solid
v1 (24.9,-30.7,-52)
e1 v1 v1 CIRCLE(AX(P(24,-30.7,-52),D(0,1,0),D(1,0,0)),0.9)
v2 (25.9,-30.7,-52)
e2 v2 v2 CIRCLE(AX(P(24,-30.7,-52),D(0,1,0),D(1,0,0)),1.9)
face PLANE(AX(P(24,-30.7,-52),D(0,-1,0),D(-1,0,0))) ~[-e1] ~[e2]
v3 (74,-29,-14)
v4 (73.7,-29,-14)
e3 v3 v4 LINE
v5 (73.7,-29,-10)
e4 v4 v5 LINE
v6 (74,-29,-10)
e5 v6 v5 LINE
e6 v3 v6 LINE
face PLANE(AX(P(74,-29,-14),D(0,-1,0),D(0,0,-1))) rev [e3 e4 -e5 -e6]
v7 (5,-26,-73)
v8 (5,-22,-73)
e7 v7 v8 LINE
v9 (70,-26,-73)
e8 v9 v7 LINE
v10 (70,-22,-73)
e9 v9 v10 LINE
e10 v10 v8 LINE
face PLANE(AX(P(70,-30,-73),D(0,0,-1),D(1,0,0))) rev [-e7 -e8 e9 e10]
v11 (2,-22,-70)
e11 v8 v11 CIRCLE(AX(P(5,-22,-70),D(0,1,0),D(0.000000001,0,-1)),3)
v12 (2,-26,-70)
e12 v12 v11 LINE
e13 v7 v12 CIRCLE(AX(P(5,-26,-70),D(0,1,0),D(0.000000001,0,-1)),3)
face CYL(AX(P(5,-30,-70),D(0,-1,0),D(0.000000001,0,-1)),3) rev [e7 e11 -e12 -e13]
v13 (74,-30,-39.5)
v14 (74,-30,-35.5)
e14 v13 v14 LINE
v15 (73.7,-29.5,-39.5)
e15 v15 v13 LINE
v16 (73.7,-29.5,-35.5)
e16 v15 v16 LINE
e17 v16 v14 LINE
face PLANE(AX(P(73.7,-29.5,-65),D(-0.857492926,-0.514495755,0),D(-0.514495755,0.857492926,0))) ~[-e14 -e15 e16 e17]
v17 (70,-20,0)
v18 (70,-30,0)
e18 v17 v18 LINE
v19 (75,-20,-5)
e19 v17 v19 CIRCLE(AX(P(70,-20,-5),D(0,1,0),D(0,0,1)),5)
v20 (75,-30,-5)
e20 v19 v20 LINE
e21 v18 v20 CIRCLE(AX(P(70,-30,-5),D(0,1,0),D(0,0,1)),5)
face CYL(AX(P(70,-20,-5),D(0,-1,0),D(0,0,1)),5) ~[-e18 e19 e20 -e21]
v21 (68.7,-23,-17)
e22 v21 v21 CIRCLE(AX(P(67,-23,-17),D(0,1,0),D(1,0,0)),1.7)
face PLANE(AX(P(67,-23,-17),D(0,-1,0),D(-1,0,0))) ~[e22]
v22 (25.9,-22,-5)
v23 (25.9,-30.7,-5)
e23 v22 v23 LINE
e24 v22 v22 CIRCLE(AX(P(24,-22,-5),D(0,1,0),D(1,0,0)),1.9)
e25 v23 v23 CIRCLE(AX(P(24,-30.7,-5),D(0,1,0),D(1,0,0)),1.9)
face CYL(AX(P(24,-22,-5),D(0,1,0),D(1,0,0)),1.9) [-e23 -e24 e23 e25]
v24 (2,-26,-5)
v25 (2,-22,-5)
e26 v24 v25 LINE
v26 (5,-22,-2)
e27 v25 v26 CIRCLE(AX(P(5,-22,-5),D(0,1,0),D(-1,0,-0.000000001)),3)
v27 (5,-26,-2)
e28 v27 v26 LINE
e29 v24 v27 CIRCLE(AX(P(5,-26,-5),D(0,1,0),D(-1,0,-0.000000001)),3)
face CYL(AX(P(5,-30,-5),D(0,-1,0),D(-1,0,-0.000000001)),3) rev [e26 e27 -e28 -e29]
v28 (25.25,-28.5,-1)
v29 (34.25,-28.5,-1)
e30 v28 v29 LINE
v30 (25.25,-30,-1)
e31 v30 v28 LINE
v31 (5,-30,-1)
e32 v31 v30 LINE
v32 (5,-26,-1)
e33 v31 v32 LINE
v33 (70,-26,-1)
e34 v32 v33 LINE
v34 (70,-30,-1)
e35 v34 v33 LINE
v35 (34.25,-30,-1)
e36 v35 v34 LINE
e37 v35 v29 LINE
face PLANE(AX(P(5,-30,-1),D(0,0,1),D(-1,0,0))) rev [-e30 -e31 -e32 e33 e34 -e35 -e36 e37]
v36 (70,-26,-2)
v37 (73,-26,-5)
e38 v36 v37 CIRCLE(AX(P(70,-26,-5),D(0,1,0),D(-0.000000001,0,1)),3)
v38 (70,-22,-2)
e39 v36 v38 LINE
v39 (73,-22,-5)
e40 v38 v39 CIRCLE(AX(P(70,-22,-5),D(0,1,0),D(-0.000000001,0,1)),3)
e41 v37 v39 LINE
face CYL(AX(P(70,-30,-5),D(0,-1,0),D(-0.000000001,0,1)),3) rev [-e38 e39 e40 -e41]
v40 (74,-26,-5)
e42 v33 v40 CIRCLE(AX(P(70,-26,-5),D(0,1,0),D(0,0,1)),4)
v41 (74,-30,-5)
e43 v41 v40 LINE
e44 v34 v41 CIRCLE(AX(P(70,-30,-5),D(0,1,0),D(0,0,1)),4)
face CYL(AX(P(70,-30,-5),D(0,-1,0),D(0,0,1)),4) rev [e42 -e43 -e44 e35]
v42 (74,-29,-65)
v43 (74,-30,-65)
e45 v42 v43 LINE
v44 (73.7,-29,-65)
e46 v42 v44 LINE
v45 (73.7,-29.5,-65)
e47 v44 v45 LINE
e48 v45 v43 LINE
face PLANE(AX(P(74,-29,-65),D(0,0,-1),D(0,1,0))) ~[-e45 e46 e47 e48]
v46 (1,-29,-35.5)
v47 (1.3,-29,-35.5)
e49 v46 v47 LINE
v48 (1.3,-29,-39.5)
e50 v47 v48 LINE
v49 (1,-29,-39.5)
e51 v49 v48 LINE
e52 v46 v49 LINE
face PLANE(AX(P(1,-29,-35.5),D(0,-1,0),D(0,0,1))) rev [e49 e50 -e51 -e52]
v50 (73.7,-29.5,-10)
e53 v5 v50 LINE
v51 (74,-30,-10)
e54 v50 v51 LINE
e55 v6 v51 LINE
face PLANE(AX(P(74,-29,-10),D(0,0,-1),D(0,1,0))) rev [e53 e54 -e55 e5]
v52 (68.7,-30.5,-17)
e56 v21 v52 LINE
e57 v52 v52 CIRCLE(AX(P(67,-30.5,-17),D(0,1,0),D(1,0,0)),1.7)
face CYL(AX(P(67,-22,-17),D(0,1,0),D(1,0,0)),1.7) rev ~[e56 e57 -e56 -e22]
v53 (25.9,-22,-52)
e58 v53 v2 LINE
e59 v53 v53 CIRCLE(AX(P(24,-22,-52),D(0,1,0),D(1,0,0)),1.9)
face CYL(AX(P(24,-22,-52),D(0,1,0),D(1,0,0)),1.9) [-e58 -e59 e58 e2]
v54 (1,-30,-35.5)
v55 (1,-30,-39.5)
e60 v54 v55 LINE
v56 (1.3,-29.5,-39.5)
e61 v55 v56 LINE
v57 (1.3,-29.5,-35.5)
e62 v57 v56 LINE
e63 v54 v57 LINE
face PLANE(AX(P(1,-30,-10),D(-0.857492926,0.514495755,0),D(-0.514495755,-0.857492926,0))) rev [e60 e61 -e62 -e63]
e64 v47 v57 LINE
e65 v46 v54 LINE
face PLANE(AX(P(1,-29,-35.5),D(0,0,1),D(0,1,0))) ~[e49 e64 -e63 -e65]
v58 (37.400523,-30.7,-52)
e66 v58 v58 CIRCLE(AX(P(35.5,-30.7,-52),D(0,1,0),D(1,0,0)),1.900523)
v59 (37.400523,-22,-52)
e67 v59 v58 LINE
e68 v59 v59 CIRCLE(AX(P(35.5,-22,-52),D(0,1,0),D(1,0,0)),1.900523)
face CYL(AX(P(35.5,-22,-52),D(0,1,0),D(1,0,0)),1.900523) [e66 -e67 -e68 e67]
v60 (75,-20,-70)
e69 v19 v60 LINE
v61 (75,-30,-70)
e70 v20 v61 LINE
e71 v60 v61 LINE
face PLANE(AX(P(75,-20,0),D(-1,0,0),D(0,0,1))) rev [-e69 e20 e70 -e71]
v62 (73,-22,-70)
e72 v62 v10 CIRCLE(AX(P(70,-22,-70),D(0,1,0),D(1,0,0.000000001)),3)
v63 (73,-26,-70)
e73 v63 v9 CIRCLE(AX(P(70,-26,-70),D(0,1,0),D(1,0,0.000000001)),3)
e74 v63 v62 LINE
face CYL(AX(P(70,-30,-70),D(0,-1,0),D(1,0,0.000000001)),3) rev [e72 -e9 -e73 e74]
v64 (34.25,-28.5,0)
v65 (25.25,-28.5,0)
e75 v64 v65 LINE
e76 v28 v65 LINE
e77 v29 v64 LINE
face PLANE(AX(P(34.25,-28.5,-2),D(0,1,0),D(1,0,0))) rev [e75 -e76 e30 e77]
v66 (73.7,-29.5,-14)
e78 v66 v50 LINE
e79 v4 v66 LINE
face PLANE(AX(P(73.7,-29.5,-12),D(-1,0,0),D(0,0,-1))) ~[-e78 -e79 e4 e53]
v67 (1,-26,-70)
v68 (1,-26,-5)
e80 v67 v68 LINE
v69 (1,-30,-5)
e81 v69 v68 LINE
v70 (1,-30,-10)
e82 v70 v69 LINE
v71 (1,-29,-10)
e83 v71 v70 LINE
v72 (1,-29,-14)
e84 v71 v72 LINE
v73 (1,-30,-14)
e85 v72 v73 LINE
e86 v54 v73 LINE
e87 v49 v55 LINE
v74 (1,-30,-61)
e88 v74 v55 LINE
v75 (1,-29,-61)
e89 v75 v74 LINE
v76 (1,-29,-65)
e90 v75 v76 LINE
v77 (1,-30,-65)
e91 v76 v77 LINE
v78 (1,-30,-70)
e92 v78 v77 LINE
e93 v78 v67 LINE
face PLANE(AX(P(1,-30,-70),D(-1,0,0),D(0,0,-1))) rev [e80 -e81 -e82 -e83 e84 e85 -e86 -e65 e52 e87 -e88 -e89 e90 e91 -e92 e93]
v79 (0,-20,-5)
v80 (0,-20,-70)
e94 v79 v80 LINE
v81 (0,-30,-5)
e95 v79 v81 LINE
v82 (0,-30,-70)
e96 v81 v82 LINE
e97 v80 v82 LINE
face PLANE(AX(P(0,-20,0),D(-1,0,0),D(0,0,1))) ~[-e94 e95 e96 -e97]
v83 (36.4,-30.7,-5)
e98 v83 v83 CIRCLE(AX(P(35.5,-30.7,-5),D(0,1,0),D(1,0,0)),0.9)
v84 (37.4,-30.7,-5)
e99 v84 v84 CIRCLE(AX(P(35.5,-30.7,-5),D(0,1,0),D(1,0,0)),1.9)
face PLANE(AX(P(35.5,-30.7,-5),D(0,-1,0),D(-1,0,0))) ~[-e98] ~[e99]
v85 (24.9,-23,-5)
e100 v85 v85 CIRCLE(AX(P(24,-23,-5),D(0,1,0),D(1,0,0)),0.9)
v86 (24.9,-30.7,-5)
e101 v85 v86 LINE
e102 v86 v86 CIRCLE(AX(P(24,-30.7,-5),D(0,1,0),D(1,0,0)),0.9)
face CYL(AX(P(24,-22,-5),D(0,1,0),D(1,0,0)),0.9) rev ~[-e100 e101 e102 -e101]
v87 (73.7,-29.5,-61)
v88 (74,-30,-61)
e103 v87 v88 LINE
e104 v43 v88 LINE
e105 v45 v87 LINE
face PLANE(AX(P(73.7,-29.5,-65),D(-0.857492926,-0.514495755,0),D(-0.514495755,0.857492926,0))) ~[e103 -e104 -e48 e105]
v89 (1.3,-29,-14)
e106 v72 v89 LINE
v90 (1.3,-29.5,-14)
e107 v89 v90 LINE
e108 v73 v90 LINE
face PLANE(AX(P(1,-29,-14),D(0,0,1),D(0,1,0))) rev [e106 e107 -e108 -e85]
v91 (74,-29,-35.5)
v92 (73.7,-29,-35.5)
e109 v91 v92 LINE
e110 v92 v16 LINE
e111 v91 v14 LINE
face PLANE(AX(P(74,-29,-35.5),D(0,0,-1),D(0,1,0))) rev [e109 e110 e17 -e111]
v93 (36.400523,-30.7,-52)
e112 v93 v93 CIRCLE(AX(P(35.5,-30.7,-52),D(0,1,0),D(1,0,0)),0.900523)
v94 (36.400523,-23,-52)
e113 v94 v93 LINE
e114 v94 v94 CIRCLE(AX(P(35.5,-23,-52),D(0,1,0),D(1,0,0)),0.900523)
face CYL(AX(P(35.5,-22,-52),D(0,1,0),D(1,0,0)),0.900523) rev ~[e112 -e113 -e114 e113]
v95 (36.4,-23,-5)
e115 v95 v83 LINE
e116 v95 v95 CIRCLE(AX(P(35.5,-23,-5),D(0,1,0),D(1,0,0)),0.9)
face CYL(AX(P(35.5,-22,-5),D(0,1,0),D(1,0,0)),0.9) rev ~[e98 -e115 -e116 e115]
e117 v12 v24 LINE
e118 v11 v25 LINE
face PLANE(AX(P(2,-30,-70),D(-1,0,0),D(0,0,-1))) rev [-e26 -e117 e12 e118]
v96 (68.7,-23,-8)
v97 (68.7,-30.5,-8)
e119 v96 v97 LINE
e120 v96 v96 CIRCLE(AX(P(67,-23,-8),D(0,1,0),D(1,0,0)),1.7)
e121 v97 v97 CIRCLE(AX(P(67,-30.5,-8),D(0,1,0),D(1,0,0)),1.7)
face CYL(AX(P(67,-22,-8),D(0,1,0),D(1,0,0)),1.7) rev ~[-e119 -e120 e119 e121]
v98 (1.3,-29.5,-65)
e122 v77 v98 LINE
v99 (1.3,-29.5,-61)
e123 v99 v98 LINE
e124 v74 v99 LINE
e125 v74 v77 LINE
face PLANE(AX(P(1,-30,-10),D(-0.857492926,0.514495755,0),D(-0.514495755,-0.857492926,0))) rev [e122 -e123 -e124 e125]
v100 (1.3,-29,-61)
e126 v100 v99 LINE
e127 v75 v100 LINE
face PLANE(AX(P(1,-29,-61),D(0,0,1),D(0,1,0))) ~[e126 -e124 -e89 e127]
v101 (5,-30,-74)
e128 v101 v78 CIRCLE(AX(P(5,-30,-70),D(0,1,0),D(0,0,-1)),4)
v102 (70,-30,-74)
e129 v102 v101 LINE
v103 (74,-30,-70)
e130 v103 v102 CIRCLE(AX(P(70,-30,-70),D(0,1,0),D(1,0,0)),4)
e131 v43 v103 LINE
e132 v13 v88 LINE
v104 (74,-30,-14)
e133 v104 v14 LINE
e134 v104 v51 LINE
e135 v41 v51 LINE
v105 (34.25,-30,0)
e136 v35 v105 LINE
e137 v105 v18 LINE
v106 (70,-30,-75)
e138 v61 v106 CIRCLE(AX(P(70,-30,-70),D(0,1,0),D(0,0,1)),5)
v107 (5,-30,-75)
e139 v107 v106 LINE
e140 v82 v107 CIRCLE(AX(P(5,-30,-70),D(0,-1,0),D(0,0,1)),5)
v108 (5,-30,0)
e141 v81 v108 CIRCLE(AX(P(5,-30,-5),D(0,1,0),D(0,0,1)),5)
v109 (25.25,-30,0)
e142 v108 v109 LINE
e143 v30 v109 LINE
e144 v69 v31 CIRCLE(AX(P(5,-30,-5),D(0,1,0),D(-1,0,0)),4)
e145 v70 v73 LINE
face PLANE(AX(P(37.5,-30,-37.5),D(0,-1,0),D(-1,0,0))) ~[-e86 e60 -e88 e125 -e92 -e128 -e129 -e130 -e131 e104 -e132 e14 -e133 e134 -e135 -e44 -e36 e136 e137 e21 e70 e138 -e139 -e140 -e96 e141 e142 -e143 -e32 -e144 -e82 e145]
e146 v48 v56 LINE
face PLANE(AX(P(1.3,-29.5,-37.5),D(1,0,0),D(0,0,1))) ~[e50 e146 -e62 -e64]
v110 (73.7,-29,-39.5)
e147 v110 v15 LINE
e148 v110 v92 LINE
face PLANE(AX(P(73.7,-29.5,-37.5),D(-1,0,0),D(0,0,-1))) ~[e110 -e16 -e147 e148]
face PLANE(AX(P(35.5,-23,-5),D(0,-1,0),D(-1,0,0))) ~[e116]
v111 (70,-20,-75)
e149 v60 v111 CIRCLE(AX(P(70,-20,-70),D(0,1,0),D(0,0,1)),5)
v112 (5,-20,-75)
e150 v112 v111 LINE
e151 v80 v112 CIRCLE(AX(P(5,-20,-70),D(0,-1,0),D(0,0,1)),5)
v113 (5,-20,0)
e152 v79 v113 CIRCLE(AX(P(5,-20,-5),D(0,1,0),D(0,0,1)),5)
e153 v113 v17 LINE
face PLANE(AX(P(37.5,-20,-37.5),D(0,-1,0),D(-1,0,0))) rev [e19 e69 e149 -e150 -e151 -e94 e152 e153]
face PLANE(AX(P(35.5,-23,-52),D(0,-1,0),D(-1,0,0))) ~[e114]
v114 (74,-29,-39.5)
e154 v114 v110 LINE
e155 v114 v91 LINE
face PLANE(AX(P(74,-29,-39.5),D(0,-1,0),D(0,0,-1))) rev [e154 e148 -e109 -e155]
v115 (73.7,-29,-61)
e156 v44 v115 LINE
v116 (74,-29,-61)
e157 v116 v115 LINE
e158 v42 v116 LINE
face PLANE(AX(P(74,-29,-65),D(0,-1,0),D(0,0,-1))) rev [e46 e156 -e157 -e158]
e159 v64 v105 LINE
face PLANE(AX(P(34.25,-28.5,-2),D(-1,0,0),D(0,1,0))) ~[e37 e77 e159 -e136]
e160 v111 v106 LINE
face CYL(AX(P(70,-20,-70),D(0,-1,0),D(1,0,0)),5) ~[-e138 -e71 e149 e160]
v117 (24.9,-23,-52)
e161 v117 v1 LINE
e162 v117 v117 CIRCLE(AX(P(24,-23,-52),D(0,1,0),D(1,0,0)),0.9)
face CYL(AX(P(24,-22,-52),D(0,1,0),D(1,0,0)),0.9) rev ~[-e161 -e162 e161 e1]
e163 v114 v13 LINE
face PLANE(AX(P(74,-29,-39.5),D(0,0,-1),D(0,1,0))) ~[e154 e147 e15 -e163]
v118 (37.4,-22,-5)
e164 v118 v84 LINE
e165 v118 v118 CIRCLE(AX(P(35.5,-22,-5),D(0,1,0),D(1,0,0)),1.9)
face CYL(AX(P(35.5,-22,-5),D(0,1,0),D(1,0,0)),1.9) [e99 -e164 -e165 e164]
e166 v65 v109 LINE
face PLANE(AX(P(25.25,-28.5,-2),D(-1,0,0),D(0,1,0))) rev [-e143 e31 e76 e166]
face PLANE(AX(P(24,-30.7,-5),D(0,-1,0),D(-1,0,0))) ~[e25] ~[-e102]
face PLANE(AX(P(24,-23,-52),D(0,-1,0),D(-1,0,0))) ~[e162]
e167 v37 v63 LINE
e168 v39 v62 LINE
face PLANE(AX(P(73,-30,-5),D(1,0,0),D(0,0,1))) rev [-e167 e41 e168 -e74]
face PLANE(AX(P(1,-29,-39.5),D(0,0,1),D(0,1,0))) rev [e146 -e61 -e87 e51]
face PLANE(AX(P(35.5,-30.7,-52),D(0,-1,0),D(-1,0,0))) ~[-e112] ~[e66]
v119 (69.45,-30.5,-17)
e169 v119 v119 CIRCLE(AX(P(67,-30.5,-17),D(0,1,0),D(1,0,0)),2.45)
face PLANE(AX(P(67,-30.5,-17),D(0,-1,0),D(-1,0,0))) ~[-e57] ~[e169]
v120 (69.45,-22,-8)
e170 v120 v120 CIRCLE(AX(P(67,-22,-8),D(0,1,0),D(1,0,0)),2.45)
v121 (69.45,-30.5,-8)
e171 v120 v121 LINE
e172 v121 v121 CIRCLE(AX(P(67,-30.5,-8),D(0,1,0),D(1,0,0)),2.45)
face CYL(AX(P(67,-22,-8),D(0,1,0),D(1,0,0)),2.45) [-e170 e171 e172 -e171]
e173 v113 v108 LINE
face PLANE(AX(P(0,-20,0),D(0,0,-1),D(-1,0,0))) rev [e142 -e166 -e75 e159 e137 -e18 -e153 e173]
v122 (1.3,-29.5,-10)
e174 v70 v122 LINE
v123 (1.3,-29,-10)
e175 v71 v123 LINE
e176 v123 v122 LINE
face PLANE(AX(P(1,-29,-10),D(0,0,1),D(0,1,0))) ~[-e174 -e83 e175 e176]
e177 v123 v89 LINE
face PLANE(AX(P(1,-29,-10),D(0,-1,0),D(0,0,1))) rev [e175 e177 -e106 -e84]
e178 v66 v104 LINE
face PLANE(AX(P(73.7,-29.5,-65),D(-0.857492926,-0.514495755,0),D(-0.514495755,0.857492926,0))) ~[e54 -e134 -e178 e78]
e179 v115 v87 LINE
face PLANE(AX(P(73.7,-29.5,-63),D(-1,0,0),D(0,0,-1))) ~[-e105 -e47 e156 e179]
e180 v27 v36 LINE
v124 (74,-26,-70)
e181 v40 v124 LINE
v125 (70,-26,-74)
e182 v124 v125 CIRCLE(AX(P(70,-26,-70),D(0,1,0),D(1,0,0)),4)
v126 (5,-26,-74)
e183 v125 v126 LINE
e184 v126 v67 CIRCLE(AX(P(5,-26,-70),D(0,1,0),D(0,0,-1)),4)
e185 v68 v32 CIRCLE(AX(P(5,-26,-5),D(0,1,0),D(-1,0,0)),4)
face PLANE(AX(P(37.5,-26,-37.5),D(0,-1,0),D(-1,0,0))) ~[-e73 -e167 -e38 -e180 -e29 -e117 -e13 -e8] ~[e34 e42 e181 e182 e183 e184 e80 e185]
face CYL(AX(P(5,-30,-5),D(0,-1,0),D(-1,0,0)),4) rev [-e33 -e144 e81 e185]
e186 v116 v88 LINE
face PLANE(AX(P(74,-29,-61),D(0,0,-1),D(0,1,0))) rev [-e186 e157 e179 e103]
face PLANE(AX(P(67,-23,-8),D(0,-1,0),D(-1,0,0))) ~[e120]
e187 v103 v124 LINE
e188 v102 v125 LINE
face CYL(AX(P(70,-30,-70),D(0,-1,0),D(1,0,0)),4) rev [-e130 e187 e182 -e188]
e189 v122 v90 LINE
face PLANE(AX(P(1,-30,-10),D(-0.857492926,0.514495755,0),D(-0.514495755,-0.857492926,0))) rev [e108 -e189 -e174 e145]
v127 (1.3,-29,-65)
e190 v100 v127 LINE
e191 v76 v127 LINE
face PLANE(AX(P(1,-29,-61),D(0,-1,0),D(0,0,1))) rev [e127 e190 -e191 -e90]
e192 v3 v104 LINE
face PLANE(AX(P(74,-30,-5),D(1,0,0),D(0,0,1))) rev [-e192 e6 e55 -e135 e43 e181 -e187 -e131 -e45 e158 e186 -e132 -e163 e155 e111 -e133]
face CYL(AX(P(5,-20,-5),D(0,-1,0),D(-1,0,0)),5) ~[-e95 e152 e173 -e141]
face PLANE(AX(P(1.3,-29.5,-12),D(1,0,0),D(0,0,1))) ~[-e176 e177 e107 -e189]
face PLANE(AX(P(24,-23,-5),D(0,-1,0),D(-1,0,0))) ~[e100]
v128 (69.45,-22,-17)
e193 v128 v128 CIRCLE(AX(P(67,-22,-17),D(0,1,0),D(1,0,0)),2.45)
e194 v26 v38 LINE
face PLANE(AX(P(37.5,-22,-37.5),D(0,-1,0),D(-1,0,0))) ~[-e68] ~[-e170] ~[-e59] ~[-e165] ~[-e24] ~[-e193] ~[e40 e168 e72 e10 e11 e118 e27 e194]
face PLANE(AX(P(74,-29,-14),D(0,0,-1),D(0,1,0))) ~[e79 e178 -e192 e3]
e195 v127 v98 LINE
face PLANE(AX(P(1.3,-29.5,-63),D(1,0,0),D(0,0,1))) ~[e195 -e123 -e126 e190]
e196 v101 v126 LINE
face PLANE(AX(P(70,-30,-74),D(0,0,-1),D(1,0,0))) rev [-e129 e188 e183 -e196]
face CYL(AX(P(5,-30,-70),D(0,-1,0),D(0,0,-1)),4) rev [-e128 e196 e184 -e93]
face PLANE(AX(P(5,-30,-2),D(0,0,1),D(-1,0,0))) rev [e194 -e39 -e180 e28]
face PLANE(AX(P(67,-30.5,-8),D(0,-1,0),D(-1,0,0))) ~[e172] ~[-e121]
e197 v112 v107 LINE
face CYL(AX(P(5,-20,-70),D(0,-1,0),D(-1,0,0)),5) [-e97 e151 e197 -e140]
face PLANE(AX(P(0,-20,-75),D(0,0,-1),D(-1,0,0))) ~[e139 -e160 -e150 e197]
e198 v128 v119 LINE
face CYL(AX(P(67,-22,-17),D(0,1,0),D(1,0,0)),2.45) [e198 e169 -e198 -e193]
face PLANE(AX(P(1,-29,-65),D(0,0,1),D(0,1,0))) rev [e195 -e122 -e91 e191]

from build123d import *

# Parameters (mm, degrees)
SZKIC1_W                    = 75
SZKIC1_H                    = 75
DODANIE_WYCI_GNI_CIE1_DEPTH = 10
ZAOKR_GLENIE1_R             = 5
WYTNIJ_WYCI_GNI_CIE1_DEPTH  = 8
WYTNIJ_WYCI_GNI_CIE2_DEPTH  = 4
SZKIC7_R                    = 1.9
SZKIC7_R_2                  = 0.9
SZKIC7_R_3                  = 1.900523095
SZKIC7_R_4                  = 0.900523095
DODANIE_WYCI_GNI_CIE2_DEPTH = 8.7
SZKIC9_R                    = 0.900523095
SZKIC9_R_2                  = 0.9
DODANIE_WYCI_GNI_CIE3_DEPTH = 1
SZKIC10_R                   = 1.7
DODANIE_WYCI_GNI_CIE4_DEPTH = 1
SZKIC11_R                   = 2.45
SZKIC11_R_2                 = 1.7
DODANIE_WYCI_GNI_CIE5_DEPTH = 8.5
SZKIC19_W                   = 9
SZKIC19_H                   = 1.5
WYTNIJ_WYCI_GNI_CIE15_DEPTH = 10
SZKIC22_W                   = 4
SZKIC22_H                   = 1
DODANIE_WYCI_GNI_CIE6_DEPTH = 0.3
SZKIC24_W                   = 4
SZKIC24_H                   = 1
DODANIE_WYCI_GNI_CIE7_DEPTH = 0.3
WYTNIJ_WYCI_GNI_CIE13_DEPTH = 55
WYTNIJ_WYCI_GNI_CIE14_DEPTH = 55


with BuildPart() as part:
    # Szkic1 → Dodanie-wyciągnięcie1 (new body)
    with BuildSketch(Plane(origin=(0, 0, 0), x_dir=(1, 0, 0), z_dir=(0, 1, 0))):
        with Locations((37.5, 37.5)):
            Rectangle(SZKIC1_W, SZKIC1_H)
    extrude(amount=DODANIE_WYCI_GNI_CIE1_DEPTH)

    # Zaokrąglenie1
    zaokr_glenie1_edges = [part.edges().sort_by_distance(p)[0] for p in [
        (0, 5, 0),
        (0, 5, -75),
        (75, 5, -75),
        (75, 5, 0),
    ]]
    fillet(zaokr_glenie1_edges, radius=ZAOKR_GLENIE1_R)

    # Szkic4 → Wytnij-wyciągnięcie1 (cut)
    with BuildSketch(Plane(origin=(0, 10, 0), x_dir=(1, 0, 0), z_dir=(0, 1, 0))):
        with BuildLine():
            Line((2, 70), (2, 5))
            ThreePointArc((2, 5), (2.878679656, 2.878679656), (5, 2))
            Line((5, 2), (70, 2))
            ThreePointArc((70, 2), (72.121320344, 2.878679656), (73, 5))
            Line((73, 5), (73, 70))
            ThreePointArc((73, 70), (72.121320344, 72.121320344), (70, 73))
            Line((70, 73), (5, 73))
            ThreePointArc((5, 73), (2.878679656, 72.121320344), (2, 70))
        make_face()
    extrude(amount=-WYTNIJ_WYCI_GNI_CIE1_DEPTH, mode=Mode.SUBTRACT)

    # Szkic6 → Wytnij-wyciągnięcie2 (cut)
    with BuildSketch(Plane(origin=(0, 10, 0), x_dir=(1, 0, 0), z_dir=(0, 1, 0))):
        with BuildLine():
            Line((1, 70), (1, 5))
            ThreePointArc((1, 5), (2.171572875, 2.171572875), (5, 1))
            Line((5, 1), (70, 1))
            ThreePointArc((70, 1), (72.828427125, 2.171572875), (74, 5))
            Line((74, 5), (74, 70))
            ThreePointArc((74, 70), (72.828427125, 72.828427125), (70, 74))
            Line((70, 74), (5, 74))
            ThreePointArc((5, 74), (2.171572875, 72.828427125), (1, 70))
        make_face()
        with BuildLine():
            Line((2, 70), (2, 5))
            ThreePointArc((2, 5), (2.878679656, 2.878679656), (5, 2))
            Line((5, 2), (70, 2))
            ThreePointArc((70, 2), (72.121320344, 2.878679656), (73, 5))
            Line((73, 5), (73, 70))
            ThreePointArc((73, 70), (72.121320344, 72.121320344), (70, 73))
            Line((70, 73), (5, 73))
            ThreePointArc((5, 73), (2.878679656, 72.121320344), (2, 70))
        make_face(mode=Mode.SUBTRACT)
    extrude(amount=-WYTNIJ_WYCI_GNI_CIE2_DEPTH, mode=Mode.SUBTRACT)

    # Szkic7 → Dodanie-wyciągnięcie2 (add)
    with BuildSketch(Plane(origin=(0, 2, 0), x_dir=(1, 0, 0), z_dir=(0, 1, 0))):
        with Locations((24, 52)):
            Circle(SZKIC7_R)
        with Locations((24, 52)):
            Circle(SZKIC7_R_2, mode=Mode.SUBTRACT)
        with Locations((35.5, 52)):
            Circle(SZKIC7_R_3)
        with Locations((35.5, 52)):
            Circle(SZKIC7_R_4, mode=Mode.SUBTRACT)
        with Locations((35.5, 5)):
            Circle(SZKIC7_R)
        with Locations((35.5, 5)):
            Circle(SZKIC7_R_2, mode=Mode.SUBTRACT)
        with Locations((24, 5)):
            Circle(SZKIC7_R)
        with Locations((24, 5)):
            Circle(SZKIC7_R_2, mode=Mode.SUBTRACT)
    extrude(amount=DODANIE_WYCI_GNI_CIE2_DEPTH)

    # Szkic9 → Dodanie-wyciągnięcie3 (add)
    with BuildSketch(Plane(origin=(0, 2, 0), x_dir=(1, 0, 0), z_dir=(0, 1, 0))):
        with Locations((35.5, 52)):
            Circle(SZKIC9_R)
        with Locations((35.5, 5)):
            Circle(SZKIC9_R_2)
        with Locations((24, 5)):
            Circle(SZKIC9_R_2)
        with Locations((24, 52)):
            Circle(SZKIC9_R_2)
    extrude(amount=DODANIE_WYCI_GNI_CIE3_DEPTH)

    # Szkic10 → Dodanie-wyciągnięcie4 (add)
    with BuildSketch(Plane(origin=(0, 2, 0), x_dir=(1, 0, 0), z_dir=(0, 1, 0))):
        with Locations((67, 17)):
            Circle(SZKIC10_R)
        with Locations((67, 8)):
            Circle(SZKIC10_R)
    extrude(amount=DODANIE_WYCI_GNI_CIE4_DEPTH)

    # Szkic11 → Dodanie-wyciągnięcie5 (add)
    with BuildSketch(Plane(origin=(0, 2, 0), x_dir=(1, 0, 0), z_dir=(0, 1, 0))):
        with Locations((67, 17)):
            Circle(SZKIC11_R)
        with Locations((67, 17)):
            Circle(SZKIC11_R_2, mode=Mode.SUBTRACT)
        with Locations((67, 8)):
            Circle(SZKIC11_R)
        with Locations((67, 8)):
            Circle(SZKIC11_R_2, mode=Mode.SUBTRACT)
    extrude(amount=DODANIE_WYCI_GNI_CIE5_DEPTH)

    # Szkic19 → Wytnij-wyciągnięcie15 (cut)
    with BuildSketch(Plane(origin=(0, 0, -2), x_dir=(-1, 0, 0), z_dir=(0, 0, -1))):
        with Locations((-29.75, 9.25)):
            Rectangle(SZKIC19_W, SZKIC19_H)
    extrude(amount=-WYTNIJ_WYCI_GNI_CIE15_DEPTH, mode=Mode.SUBTRACT)

    # Szkic22 → Dodanie-wyciągnięcie6 (add)
    with BuildSketch(Plane.ZY.offset(-74)):
        with Locations((-37.5, 9.5)):
            Rectangle(SZKIC22_W, SZKIC22_H)
        with Locations((-63, 9.5)):
            Rectangle(SZKIC22_W, SZKIC22_H)
        with Locations((-12, 9.5)):
            Rectangle(SZKIC22_W, SZKIC22_H)
    extrude(amount=DODANIE_WYCI_GNI_CIE6_DEPTH)

    # Szkic24 → Dodanie-wyciągnięcie7 (add)
    with BuildSketch(Plane(origin=(1, 0, 0), x_dir=(0, 0, -1), z_dir=(1, 0, 0))):
        with Locations((12, 9.5)):
            Rectangle(SZKIC24_W, SZKIC24_H)
        with Locations((63, 9.5)):
            Rectangle(SZKIC24_W, SZKIC24_H)
        with Locations((37.5, 9.5)):
            Rectangle(SZKIC24_W, SZKIC24_H)
    extrude(amount=DODANIE_WYCI_GNI_CIE7_DEPTH)

    # Szkic25 → Wytnij-wyciągnięcie13 (cut)
    with BuildSketch(Plane.XY.offset(-10)):
        Polygon((1, 10), (1.3, 9.5), (1.3, 10), align=None)
    extrude(amount=-WYTNIJ_WYCI_GNI_CIE13_DEPTH, mode=Mode.SUBTRACT)

    # Szkic26 → Wytnij-wyciągnięcie14 (cut)
    with BuildSketch(Plane(origin=(0, 0, -65), x_dir=(-1, 0, 0), z_dir=(0, 0, -1))):
        Polygon((-74, 10), (-73.7, 10), (-73.7, 9.5), align=None)
    extrude(amount=-WYTNIJ_WYCI_GNI_CIE14_DEPTH, mode=Mode.SUBTRACT)


with BuildPart() as body_2:
    # Lustro5: mirrored copy
    add(part.part.mirror(Plane.ZX.offset(-10)))


solid = body_2.part
